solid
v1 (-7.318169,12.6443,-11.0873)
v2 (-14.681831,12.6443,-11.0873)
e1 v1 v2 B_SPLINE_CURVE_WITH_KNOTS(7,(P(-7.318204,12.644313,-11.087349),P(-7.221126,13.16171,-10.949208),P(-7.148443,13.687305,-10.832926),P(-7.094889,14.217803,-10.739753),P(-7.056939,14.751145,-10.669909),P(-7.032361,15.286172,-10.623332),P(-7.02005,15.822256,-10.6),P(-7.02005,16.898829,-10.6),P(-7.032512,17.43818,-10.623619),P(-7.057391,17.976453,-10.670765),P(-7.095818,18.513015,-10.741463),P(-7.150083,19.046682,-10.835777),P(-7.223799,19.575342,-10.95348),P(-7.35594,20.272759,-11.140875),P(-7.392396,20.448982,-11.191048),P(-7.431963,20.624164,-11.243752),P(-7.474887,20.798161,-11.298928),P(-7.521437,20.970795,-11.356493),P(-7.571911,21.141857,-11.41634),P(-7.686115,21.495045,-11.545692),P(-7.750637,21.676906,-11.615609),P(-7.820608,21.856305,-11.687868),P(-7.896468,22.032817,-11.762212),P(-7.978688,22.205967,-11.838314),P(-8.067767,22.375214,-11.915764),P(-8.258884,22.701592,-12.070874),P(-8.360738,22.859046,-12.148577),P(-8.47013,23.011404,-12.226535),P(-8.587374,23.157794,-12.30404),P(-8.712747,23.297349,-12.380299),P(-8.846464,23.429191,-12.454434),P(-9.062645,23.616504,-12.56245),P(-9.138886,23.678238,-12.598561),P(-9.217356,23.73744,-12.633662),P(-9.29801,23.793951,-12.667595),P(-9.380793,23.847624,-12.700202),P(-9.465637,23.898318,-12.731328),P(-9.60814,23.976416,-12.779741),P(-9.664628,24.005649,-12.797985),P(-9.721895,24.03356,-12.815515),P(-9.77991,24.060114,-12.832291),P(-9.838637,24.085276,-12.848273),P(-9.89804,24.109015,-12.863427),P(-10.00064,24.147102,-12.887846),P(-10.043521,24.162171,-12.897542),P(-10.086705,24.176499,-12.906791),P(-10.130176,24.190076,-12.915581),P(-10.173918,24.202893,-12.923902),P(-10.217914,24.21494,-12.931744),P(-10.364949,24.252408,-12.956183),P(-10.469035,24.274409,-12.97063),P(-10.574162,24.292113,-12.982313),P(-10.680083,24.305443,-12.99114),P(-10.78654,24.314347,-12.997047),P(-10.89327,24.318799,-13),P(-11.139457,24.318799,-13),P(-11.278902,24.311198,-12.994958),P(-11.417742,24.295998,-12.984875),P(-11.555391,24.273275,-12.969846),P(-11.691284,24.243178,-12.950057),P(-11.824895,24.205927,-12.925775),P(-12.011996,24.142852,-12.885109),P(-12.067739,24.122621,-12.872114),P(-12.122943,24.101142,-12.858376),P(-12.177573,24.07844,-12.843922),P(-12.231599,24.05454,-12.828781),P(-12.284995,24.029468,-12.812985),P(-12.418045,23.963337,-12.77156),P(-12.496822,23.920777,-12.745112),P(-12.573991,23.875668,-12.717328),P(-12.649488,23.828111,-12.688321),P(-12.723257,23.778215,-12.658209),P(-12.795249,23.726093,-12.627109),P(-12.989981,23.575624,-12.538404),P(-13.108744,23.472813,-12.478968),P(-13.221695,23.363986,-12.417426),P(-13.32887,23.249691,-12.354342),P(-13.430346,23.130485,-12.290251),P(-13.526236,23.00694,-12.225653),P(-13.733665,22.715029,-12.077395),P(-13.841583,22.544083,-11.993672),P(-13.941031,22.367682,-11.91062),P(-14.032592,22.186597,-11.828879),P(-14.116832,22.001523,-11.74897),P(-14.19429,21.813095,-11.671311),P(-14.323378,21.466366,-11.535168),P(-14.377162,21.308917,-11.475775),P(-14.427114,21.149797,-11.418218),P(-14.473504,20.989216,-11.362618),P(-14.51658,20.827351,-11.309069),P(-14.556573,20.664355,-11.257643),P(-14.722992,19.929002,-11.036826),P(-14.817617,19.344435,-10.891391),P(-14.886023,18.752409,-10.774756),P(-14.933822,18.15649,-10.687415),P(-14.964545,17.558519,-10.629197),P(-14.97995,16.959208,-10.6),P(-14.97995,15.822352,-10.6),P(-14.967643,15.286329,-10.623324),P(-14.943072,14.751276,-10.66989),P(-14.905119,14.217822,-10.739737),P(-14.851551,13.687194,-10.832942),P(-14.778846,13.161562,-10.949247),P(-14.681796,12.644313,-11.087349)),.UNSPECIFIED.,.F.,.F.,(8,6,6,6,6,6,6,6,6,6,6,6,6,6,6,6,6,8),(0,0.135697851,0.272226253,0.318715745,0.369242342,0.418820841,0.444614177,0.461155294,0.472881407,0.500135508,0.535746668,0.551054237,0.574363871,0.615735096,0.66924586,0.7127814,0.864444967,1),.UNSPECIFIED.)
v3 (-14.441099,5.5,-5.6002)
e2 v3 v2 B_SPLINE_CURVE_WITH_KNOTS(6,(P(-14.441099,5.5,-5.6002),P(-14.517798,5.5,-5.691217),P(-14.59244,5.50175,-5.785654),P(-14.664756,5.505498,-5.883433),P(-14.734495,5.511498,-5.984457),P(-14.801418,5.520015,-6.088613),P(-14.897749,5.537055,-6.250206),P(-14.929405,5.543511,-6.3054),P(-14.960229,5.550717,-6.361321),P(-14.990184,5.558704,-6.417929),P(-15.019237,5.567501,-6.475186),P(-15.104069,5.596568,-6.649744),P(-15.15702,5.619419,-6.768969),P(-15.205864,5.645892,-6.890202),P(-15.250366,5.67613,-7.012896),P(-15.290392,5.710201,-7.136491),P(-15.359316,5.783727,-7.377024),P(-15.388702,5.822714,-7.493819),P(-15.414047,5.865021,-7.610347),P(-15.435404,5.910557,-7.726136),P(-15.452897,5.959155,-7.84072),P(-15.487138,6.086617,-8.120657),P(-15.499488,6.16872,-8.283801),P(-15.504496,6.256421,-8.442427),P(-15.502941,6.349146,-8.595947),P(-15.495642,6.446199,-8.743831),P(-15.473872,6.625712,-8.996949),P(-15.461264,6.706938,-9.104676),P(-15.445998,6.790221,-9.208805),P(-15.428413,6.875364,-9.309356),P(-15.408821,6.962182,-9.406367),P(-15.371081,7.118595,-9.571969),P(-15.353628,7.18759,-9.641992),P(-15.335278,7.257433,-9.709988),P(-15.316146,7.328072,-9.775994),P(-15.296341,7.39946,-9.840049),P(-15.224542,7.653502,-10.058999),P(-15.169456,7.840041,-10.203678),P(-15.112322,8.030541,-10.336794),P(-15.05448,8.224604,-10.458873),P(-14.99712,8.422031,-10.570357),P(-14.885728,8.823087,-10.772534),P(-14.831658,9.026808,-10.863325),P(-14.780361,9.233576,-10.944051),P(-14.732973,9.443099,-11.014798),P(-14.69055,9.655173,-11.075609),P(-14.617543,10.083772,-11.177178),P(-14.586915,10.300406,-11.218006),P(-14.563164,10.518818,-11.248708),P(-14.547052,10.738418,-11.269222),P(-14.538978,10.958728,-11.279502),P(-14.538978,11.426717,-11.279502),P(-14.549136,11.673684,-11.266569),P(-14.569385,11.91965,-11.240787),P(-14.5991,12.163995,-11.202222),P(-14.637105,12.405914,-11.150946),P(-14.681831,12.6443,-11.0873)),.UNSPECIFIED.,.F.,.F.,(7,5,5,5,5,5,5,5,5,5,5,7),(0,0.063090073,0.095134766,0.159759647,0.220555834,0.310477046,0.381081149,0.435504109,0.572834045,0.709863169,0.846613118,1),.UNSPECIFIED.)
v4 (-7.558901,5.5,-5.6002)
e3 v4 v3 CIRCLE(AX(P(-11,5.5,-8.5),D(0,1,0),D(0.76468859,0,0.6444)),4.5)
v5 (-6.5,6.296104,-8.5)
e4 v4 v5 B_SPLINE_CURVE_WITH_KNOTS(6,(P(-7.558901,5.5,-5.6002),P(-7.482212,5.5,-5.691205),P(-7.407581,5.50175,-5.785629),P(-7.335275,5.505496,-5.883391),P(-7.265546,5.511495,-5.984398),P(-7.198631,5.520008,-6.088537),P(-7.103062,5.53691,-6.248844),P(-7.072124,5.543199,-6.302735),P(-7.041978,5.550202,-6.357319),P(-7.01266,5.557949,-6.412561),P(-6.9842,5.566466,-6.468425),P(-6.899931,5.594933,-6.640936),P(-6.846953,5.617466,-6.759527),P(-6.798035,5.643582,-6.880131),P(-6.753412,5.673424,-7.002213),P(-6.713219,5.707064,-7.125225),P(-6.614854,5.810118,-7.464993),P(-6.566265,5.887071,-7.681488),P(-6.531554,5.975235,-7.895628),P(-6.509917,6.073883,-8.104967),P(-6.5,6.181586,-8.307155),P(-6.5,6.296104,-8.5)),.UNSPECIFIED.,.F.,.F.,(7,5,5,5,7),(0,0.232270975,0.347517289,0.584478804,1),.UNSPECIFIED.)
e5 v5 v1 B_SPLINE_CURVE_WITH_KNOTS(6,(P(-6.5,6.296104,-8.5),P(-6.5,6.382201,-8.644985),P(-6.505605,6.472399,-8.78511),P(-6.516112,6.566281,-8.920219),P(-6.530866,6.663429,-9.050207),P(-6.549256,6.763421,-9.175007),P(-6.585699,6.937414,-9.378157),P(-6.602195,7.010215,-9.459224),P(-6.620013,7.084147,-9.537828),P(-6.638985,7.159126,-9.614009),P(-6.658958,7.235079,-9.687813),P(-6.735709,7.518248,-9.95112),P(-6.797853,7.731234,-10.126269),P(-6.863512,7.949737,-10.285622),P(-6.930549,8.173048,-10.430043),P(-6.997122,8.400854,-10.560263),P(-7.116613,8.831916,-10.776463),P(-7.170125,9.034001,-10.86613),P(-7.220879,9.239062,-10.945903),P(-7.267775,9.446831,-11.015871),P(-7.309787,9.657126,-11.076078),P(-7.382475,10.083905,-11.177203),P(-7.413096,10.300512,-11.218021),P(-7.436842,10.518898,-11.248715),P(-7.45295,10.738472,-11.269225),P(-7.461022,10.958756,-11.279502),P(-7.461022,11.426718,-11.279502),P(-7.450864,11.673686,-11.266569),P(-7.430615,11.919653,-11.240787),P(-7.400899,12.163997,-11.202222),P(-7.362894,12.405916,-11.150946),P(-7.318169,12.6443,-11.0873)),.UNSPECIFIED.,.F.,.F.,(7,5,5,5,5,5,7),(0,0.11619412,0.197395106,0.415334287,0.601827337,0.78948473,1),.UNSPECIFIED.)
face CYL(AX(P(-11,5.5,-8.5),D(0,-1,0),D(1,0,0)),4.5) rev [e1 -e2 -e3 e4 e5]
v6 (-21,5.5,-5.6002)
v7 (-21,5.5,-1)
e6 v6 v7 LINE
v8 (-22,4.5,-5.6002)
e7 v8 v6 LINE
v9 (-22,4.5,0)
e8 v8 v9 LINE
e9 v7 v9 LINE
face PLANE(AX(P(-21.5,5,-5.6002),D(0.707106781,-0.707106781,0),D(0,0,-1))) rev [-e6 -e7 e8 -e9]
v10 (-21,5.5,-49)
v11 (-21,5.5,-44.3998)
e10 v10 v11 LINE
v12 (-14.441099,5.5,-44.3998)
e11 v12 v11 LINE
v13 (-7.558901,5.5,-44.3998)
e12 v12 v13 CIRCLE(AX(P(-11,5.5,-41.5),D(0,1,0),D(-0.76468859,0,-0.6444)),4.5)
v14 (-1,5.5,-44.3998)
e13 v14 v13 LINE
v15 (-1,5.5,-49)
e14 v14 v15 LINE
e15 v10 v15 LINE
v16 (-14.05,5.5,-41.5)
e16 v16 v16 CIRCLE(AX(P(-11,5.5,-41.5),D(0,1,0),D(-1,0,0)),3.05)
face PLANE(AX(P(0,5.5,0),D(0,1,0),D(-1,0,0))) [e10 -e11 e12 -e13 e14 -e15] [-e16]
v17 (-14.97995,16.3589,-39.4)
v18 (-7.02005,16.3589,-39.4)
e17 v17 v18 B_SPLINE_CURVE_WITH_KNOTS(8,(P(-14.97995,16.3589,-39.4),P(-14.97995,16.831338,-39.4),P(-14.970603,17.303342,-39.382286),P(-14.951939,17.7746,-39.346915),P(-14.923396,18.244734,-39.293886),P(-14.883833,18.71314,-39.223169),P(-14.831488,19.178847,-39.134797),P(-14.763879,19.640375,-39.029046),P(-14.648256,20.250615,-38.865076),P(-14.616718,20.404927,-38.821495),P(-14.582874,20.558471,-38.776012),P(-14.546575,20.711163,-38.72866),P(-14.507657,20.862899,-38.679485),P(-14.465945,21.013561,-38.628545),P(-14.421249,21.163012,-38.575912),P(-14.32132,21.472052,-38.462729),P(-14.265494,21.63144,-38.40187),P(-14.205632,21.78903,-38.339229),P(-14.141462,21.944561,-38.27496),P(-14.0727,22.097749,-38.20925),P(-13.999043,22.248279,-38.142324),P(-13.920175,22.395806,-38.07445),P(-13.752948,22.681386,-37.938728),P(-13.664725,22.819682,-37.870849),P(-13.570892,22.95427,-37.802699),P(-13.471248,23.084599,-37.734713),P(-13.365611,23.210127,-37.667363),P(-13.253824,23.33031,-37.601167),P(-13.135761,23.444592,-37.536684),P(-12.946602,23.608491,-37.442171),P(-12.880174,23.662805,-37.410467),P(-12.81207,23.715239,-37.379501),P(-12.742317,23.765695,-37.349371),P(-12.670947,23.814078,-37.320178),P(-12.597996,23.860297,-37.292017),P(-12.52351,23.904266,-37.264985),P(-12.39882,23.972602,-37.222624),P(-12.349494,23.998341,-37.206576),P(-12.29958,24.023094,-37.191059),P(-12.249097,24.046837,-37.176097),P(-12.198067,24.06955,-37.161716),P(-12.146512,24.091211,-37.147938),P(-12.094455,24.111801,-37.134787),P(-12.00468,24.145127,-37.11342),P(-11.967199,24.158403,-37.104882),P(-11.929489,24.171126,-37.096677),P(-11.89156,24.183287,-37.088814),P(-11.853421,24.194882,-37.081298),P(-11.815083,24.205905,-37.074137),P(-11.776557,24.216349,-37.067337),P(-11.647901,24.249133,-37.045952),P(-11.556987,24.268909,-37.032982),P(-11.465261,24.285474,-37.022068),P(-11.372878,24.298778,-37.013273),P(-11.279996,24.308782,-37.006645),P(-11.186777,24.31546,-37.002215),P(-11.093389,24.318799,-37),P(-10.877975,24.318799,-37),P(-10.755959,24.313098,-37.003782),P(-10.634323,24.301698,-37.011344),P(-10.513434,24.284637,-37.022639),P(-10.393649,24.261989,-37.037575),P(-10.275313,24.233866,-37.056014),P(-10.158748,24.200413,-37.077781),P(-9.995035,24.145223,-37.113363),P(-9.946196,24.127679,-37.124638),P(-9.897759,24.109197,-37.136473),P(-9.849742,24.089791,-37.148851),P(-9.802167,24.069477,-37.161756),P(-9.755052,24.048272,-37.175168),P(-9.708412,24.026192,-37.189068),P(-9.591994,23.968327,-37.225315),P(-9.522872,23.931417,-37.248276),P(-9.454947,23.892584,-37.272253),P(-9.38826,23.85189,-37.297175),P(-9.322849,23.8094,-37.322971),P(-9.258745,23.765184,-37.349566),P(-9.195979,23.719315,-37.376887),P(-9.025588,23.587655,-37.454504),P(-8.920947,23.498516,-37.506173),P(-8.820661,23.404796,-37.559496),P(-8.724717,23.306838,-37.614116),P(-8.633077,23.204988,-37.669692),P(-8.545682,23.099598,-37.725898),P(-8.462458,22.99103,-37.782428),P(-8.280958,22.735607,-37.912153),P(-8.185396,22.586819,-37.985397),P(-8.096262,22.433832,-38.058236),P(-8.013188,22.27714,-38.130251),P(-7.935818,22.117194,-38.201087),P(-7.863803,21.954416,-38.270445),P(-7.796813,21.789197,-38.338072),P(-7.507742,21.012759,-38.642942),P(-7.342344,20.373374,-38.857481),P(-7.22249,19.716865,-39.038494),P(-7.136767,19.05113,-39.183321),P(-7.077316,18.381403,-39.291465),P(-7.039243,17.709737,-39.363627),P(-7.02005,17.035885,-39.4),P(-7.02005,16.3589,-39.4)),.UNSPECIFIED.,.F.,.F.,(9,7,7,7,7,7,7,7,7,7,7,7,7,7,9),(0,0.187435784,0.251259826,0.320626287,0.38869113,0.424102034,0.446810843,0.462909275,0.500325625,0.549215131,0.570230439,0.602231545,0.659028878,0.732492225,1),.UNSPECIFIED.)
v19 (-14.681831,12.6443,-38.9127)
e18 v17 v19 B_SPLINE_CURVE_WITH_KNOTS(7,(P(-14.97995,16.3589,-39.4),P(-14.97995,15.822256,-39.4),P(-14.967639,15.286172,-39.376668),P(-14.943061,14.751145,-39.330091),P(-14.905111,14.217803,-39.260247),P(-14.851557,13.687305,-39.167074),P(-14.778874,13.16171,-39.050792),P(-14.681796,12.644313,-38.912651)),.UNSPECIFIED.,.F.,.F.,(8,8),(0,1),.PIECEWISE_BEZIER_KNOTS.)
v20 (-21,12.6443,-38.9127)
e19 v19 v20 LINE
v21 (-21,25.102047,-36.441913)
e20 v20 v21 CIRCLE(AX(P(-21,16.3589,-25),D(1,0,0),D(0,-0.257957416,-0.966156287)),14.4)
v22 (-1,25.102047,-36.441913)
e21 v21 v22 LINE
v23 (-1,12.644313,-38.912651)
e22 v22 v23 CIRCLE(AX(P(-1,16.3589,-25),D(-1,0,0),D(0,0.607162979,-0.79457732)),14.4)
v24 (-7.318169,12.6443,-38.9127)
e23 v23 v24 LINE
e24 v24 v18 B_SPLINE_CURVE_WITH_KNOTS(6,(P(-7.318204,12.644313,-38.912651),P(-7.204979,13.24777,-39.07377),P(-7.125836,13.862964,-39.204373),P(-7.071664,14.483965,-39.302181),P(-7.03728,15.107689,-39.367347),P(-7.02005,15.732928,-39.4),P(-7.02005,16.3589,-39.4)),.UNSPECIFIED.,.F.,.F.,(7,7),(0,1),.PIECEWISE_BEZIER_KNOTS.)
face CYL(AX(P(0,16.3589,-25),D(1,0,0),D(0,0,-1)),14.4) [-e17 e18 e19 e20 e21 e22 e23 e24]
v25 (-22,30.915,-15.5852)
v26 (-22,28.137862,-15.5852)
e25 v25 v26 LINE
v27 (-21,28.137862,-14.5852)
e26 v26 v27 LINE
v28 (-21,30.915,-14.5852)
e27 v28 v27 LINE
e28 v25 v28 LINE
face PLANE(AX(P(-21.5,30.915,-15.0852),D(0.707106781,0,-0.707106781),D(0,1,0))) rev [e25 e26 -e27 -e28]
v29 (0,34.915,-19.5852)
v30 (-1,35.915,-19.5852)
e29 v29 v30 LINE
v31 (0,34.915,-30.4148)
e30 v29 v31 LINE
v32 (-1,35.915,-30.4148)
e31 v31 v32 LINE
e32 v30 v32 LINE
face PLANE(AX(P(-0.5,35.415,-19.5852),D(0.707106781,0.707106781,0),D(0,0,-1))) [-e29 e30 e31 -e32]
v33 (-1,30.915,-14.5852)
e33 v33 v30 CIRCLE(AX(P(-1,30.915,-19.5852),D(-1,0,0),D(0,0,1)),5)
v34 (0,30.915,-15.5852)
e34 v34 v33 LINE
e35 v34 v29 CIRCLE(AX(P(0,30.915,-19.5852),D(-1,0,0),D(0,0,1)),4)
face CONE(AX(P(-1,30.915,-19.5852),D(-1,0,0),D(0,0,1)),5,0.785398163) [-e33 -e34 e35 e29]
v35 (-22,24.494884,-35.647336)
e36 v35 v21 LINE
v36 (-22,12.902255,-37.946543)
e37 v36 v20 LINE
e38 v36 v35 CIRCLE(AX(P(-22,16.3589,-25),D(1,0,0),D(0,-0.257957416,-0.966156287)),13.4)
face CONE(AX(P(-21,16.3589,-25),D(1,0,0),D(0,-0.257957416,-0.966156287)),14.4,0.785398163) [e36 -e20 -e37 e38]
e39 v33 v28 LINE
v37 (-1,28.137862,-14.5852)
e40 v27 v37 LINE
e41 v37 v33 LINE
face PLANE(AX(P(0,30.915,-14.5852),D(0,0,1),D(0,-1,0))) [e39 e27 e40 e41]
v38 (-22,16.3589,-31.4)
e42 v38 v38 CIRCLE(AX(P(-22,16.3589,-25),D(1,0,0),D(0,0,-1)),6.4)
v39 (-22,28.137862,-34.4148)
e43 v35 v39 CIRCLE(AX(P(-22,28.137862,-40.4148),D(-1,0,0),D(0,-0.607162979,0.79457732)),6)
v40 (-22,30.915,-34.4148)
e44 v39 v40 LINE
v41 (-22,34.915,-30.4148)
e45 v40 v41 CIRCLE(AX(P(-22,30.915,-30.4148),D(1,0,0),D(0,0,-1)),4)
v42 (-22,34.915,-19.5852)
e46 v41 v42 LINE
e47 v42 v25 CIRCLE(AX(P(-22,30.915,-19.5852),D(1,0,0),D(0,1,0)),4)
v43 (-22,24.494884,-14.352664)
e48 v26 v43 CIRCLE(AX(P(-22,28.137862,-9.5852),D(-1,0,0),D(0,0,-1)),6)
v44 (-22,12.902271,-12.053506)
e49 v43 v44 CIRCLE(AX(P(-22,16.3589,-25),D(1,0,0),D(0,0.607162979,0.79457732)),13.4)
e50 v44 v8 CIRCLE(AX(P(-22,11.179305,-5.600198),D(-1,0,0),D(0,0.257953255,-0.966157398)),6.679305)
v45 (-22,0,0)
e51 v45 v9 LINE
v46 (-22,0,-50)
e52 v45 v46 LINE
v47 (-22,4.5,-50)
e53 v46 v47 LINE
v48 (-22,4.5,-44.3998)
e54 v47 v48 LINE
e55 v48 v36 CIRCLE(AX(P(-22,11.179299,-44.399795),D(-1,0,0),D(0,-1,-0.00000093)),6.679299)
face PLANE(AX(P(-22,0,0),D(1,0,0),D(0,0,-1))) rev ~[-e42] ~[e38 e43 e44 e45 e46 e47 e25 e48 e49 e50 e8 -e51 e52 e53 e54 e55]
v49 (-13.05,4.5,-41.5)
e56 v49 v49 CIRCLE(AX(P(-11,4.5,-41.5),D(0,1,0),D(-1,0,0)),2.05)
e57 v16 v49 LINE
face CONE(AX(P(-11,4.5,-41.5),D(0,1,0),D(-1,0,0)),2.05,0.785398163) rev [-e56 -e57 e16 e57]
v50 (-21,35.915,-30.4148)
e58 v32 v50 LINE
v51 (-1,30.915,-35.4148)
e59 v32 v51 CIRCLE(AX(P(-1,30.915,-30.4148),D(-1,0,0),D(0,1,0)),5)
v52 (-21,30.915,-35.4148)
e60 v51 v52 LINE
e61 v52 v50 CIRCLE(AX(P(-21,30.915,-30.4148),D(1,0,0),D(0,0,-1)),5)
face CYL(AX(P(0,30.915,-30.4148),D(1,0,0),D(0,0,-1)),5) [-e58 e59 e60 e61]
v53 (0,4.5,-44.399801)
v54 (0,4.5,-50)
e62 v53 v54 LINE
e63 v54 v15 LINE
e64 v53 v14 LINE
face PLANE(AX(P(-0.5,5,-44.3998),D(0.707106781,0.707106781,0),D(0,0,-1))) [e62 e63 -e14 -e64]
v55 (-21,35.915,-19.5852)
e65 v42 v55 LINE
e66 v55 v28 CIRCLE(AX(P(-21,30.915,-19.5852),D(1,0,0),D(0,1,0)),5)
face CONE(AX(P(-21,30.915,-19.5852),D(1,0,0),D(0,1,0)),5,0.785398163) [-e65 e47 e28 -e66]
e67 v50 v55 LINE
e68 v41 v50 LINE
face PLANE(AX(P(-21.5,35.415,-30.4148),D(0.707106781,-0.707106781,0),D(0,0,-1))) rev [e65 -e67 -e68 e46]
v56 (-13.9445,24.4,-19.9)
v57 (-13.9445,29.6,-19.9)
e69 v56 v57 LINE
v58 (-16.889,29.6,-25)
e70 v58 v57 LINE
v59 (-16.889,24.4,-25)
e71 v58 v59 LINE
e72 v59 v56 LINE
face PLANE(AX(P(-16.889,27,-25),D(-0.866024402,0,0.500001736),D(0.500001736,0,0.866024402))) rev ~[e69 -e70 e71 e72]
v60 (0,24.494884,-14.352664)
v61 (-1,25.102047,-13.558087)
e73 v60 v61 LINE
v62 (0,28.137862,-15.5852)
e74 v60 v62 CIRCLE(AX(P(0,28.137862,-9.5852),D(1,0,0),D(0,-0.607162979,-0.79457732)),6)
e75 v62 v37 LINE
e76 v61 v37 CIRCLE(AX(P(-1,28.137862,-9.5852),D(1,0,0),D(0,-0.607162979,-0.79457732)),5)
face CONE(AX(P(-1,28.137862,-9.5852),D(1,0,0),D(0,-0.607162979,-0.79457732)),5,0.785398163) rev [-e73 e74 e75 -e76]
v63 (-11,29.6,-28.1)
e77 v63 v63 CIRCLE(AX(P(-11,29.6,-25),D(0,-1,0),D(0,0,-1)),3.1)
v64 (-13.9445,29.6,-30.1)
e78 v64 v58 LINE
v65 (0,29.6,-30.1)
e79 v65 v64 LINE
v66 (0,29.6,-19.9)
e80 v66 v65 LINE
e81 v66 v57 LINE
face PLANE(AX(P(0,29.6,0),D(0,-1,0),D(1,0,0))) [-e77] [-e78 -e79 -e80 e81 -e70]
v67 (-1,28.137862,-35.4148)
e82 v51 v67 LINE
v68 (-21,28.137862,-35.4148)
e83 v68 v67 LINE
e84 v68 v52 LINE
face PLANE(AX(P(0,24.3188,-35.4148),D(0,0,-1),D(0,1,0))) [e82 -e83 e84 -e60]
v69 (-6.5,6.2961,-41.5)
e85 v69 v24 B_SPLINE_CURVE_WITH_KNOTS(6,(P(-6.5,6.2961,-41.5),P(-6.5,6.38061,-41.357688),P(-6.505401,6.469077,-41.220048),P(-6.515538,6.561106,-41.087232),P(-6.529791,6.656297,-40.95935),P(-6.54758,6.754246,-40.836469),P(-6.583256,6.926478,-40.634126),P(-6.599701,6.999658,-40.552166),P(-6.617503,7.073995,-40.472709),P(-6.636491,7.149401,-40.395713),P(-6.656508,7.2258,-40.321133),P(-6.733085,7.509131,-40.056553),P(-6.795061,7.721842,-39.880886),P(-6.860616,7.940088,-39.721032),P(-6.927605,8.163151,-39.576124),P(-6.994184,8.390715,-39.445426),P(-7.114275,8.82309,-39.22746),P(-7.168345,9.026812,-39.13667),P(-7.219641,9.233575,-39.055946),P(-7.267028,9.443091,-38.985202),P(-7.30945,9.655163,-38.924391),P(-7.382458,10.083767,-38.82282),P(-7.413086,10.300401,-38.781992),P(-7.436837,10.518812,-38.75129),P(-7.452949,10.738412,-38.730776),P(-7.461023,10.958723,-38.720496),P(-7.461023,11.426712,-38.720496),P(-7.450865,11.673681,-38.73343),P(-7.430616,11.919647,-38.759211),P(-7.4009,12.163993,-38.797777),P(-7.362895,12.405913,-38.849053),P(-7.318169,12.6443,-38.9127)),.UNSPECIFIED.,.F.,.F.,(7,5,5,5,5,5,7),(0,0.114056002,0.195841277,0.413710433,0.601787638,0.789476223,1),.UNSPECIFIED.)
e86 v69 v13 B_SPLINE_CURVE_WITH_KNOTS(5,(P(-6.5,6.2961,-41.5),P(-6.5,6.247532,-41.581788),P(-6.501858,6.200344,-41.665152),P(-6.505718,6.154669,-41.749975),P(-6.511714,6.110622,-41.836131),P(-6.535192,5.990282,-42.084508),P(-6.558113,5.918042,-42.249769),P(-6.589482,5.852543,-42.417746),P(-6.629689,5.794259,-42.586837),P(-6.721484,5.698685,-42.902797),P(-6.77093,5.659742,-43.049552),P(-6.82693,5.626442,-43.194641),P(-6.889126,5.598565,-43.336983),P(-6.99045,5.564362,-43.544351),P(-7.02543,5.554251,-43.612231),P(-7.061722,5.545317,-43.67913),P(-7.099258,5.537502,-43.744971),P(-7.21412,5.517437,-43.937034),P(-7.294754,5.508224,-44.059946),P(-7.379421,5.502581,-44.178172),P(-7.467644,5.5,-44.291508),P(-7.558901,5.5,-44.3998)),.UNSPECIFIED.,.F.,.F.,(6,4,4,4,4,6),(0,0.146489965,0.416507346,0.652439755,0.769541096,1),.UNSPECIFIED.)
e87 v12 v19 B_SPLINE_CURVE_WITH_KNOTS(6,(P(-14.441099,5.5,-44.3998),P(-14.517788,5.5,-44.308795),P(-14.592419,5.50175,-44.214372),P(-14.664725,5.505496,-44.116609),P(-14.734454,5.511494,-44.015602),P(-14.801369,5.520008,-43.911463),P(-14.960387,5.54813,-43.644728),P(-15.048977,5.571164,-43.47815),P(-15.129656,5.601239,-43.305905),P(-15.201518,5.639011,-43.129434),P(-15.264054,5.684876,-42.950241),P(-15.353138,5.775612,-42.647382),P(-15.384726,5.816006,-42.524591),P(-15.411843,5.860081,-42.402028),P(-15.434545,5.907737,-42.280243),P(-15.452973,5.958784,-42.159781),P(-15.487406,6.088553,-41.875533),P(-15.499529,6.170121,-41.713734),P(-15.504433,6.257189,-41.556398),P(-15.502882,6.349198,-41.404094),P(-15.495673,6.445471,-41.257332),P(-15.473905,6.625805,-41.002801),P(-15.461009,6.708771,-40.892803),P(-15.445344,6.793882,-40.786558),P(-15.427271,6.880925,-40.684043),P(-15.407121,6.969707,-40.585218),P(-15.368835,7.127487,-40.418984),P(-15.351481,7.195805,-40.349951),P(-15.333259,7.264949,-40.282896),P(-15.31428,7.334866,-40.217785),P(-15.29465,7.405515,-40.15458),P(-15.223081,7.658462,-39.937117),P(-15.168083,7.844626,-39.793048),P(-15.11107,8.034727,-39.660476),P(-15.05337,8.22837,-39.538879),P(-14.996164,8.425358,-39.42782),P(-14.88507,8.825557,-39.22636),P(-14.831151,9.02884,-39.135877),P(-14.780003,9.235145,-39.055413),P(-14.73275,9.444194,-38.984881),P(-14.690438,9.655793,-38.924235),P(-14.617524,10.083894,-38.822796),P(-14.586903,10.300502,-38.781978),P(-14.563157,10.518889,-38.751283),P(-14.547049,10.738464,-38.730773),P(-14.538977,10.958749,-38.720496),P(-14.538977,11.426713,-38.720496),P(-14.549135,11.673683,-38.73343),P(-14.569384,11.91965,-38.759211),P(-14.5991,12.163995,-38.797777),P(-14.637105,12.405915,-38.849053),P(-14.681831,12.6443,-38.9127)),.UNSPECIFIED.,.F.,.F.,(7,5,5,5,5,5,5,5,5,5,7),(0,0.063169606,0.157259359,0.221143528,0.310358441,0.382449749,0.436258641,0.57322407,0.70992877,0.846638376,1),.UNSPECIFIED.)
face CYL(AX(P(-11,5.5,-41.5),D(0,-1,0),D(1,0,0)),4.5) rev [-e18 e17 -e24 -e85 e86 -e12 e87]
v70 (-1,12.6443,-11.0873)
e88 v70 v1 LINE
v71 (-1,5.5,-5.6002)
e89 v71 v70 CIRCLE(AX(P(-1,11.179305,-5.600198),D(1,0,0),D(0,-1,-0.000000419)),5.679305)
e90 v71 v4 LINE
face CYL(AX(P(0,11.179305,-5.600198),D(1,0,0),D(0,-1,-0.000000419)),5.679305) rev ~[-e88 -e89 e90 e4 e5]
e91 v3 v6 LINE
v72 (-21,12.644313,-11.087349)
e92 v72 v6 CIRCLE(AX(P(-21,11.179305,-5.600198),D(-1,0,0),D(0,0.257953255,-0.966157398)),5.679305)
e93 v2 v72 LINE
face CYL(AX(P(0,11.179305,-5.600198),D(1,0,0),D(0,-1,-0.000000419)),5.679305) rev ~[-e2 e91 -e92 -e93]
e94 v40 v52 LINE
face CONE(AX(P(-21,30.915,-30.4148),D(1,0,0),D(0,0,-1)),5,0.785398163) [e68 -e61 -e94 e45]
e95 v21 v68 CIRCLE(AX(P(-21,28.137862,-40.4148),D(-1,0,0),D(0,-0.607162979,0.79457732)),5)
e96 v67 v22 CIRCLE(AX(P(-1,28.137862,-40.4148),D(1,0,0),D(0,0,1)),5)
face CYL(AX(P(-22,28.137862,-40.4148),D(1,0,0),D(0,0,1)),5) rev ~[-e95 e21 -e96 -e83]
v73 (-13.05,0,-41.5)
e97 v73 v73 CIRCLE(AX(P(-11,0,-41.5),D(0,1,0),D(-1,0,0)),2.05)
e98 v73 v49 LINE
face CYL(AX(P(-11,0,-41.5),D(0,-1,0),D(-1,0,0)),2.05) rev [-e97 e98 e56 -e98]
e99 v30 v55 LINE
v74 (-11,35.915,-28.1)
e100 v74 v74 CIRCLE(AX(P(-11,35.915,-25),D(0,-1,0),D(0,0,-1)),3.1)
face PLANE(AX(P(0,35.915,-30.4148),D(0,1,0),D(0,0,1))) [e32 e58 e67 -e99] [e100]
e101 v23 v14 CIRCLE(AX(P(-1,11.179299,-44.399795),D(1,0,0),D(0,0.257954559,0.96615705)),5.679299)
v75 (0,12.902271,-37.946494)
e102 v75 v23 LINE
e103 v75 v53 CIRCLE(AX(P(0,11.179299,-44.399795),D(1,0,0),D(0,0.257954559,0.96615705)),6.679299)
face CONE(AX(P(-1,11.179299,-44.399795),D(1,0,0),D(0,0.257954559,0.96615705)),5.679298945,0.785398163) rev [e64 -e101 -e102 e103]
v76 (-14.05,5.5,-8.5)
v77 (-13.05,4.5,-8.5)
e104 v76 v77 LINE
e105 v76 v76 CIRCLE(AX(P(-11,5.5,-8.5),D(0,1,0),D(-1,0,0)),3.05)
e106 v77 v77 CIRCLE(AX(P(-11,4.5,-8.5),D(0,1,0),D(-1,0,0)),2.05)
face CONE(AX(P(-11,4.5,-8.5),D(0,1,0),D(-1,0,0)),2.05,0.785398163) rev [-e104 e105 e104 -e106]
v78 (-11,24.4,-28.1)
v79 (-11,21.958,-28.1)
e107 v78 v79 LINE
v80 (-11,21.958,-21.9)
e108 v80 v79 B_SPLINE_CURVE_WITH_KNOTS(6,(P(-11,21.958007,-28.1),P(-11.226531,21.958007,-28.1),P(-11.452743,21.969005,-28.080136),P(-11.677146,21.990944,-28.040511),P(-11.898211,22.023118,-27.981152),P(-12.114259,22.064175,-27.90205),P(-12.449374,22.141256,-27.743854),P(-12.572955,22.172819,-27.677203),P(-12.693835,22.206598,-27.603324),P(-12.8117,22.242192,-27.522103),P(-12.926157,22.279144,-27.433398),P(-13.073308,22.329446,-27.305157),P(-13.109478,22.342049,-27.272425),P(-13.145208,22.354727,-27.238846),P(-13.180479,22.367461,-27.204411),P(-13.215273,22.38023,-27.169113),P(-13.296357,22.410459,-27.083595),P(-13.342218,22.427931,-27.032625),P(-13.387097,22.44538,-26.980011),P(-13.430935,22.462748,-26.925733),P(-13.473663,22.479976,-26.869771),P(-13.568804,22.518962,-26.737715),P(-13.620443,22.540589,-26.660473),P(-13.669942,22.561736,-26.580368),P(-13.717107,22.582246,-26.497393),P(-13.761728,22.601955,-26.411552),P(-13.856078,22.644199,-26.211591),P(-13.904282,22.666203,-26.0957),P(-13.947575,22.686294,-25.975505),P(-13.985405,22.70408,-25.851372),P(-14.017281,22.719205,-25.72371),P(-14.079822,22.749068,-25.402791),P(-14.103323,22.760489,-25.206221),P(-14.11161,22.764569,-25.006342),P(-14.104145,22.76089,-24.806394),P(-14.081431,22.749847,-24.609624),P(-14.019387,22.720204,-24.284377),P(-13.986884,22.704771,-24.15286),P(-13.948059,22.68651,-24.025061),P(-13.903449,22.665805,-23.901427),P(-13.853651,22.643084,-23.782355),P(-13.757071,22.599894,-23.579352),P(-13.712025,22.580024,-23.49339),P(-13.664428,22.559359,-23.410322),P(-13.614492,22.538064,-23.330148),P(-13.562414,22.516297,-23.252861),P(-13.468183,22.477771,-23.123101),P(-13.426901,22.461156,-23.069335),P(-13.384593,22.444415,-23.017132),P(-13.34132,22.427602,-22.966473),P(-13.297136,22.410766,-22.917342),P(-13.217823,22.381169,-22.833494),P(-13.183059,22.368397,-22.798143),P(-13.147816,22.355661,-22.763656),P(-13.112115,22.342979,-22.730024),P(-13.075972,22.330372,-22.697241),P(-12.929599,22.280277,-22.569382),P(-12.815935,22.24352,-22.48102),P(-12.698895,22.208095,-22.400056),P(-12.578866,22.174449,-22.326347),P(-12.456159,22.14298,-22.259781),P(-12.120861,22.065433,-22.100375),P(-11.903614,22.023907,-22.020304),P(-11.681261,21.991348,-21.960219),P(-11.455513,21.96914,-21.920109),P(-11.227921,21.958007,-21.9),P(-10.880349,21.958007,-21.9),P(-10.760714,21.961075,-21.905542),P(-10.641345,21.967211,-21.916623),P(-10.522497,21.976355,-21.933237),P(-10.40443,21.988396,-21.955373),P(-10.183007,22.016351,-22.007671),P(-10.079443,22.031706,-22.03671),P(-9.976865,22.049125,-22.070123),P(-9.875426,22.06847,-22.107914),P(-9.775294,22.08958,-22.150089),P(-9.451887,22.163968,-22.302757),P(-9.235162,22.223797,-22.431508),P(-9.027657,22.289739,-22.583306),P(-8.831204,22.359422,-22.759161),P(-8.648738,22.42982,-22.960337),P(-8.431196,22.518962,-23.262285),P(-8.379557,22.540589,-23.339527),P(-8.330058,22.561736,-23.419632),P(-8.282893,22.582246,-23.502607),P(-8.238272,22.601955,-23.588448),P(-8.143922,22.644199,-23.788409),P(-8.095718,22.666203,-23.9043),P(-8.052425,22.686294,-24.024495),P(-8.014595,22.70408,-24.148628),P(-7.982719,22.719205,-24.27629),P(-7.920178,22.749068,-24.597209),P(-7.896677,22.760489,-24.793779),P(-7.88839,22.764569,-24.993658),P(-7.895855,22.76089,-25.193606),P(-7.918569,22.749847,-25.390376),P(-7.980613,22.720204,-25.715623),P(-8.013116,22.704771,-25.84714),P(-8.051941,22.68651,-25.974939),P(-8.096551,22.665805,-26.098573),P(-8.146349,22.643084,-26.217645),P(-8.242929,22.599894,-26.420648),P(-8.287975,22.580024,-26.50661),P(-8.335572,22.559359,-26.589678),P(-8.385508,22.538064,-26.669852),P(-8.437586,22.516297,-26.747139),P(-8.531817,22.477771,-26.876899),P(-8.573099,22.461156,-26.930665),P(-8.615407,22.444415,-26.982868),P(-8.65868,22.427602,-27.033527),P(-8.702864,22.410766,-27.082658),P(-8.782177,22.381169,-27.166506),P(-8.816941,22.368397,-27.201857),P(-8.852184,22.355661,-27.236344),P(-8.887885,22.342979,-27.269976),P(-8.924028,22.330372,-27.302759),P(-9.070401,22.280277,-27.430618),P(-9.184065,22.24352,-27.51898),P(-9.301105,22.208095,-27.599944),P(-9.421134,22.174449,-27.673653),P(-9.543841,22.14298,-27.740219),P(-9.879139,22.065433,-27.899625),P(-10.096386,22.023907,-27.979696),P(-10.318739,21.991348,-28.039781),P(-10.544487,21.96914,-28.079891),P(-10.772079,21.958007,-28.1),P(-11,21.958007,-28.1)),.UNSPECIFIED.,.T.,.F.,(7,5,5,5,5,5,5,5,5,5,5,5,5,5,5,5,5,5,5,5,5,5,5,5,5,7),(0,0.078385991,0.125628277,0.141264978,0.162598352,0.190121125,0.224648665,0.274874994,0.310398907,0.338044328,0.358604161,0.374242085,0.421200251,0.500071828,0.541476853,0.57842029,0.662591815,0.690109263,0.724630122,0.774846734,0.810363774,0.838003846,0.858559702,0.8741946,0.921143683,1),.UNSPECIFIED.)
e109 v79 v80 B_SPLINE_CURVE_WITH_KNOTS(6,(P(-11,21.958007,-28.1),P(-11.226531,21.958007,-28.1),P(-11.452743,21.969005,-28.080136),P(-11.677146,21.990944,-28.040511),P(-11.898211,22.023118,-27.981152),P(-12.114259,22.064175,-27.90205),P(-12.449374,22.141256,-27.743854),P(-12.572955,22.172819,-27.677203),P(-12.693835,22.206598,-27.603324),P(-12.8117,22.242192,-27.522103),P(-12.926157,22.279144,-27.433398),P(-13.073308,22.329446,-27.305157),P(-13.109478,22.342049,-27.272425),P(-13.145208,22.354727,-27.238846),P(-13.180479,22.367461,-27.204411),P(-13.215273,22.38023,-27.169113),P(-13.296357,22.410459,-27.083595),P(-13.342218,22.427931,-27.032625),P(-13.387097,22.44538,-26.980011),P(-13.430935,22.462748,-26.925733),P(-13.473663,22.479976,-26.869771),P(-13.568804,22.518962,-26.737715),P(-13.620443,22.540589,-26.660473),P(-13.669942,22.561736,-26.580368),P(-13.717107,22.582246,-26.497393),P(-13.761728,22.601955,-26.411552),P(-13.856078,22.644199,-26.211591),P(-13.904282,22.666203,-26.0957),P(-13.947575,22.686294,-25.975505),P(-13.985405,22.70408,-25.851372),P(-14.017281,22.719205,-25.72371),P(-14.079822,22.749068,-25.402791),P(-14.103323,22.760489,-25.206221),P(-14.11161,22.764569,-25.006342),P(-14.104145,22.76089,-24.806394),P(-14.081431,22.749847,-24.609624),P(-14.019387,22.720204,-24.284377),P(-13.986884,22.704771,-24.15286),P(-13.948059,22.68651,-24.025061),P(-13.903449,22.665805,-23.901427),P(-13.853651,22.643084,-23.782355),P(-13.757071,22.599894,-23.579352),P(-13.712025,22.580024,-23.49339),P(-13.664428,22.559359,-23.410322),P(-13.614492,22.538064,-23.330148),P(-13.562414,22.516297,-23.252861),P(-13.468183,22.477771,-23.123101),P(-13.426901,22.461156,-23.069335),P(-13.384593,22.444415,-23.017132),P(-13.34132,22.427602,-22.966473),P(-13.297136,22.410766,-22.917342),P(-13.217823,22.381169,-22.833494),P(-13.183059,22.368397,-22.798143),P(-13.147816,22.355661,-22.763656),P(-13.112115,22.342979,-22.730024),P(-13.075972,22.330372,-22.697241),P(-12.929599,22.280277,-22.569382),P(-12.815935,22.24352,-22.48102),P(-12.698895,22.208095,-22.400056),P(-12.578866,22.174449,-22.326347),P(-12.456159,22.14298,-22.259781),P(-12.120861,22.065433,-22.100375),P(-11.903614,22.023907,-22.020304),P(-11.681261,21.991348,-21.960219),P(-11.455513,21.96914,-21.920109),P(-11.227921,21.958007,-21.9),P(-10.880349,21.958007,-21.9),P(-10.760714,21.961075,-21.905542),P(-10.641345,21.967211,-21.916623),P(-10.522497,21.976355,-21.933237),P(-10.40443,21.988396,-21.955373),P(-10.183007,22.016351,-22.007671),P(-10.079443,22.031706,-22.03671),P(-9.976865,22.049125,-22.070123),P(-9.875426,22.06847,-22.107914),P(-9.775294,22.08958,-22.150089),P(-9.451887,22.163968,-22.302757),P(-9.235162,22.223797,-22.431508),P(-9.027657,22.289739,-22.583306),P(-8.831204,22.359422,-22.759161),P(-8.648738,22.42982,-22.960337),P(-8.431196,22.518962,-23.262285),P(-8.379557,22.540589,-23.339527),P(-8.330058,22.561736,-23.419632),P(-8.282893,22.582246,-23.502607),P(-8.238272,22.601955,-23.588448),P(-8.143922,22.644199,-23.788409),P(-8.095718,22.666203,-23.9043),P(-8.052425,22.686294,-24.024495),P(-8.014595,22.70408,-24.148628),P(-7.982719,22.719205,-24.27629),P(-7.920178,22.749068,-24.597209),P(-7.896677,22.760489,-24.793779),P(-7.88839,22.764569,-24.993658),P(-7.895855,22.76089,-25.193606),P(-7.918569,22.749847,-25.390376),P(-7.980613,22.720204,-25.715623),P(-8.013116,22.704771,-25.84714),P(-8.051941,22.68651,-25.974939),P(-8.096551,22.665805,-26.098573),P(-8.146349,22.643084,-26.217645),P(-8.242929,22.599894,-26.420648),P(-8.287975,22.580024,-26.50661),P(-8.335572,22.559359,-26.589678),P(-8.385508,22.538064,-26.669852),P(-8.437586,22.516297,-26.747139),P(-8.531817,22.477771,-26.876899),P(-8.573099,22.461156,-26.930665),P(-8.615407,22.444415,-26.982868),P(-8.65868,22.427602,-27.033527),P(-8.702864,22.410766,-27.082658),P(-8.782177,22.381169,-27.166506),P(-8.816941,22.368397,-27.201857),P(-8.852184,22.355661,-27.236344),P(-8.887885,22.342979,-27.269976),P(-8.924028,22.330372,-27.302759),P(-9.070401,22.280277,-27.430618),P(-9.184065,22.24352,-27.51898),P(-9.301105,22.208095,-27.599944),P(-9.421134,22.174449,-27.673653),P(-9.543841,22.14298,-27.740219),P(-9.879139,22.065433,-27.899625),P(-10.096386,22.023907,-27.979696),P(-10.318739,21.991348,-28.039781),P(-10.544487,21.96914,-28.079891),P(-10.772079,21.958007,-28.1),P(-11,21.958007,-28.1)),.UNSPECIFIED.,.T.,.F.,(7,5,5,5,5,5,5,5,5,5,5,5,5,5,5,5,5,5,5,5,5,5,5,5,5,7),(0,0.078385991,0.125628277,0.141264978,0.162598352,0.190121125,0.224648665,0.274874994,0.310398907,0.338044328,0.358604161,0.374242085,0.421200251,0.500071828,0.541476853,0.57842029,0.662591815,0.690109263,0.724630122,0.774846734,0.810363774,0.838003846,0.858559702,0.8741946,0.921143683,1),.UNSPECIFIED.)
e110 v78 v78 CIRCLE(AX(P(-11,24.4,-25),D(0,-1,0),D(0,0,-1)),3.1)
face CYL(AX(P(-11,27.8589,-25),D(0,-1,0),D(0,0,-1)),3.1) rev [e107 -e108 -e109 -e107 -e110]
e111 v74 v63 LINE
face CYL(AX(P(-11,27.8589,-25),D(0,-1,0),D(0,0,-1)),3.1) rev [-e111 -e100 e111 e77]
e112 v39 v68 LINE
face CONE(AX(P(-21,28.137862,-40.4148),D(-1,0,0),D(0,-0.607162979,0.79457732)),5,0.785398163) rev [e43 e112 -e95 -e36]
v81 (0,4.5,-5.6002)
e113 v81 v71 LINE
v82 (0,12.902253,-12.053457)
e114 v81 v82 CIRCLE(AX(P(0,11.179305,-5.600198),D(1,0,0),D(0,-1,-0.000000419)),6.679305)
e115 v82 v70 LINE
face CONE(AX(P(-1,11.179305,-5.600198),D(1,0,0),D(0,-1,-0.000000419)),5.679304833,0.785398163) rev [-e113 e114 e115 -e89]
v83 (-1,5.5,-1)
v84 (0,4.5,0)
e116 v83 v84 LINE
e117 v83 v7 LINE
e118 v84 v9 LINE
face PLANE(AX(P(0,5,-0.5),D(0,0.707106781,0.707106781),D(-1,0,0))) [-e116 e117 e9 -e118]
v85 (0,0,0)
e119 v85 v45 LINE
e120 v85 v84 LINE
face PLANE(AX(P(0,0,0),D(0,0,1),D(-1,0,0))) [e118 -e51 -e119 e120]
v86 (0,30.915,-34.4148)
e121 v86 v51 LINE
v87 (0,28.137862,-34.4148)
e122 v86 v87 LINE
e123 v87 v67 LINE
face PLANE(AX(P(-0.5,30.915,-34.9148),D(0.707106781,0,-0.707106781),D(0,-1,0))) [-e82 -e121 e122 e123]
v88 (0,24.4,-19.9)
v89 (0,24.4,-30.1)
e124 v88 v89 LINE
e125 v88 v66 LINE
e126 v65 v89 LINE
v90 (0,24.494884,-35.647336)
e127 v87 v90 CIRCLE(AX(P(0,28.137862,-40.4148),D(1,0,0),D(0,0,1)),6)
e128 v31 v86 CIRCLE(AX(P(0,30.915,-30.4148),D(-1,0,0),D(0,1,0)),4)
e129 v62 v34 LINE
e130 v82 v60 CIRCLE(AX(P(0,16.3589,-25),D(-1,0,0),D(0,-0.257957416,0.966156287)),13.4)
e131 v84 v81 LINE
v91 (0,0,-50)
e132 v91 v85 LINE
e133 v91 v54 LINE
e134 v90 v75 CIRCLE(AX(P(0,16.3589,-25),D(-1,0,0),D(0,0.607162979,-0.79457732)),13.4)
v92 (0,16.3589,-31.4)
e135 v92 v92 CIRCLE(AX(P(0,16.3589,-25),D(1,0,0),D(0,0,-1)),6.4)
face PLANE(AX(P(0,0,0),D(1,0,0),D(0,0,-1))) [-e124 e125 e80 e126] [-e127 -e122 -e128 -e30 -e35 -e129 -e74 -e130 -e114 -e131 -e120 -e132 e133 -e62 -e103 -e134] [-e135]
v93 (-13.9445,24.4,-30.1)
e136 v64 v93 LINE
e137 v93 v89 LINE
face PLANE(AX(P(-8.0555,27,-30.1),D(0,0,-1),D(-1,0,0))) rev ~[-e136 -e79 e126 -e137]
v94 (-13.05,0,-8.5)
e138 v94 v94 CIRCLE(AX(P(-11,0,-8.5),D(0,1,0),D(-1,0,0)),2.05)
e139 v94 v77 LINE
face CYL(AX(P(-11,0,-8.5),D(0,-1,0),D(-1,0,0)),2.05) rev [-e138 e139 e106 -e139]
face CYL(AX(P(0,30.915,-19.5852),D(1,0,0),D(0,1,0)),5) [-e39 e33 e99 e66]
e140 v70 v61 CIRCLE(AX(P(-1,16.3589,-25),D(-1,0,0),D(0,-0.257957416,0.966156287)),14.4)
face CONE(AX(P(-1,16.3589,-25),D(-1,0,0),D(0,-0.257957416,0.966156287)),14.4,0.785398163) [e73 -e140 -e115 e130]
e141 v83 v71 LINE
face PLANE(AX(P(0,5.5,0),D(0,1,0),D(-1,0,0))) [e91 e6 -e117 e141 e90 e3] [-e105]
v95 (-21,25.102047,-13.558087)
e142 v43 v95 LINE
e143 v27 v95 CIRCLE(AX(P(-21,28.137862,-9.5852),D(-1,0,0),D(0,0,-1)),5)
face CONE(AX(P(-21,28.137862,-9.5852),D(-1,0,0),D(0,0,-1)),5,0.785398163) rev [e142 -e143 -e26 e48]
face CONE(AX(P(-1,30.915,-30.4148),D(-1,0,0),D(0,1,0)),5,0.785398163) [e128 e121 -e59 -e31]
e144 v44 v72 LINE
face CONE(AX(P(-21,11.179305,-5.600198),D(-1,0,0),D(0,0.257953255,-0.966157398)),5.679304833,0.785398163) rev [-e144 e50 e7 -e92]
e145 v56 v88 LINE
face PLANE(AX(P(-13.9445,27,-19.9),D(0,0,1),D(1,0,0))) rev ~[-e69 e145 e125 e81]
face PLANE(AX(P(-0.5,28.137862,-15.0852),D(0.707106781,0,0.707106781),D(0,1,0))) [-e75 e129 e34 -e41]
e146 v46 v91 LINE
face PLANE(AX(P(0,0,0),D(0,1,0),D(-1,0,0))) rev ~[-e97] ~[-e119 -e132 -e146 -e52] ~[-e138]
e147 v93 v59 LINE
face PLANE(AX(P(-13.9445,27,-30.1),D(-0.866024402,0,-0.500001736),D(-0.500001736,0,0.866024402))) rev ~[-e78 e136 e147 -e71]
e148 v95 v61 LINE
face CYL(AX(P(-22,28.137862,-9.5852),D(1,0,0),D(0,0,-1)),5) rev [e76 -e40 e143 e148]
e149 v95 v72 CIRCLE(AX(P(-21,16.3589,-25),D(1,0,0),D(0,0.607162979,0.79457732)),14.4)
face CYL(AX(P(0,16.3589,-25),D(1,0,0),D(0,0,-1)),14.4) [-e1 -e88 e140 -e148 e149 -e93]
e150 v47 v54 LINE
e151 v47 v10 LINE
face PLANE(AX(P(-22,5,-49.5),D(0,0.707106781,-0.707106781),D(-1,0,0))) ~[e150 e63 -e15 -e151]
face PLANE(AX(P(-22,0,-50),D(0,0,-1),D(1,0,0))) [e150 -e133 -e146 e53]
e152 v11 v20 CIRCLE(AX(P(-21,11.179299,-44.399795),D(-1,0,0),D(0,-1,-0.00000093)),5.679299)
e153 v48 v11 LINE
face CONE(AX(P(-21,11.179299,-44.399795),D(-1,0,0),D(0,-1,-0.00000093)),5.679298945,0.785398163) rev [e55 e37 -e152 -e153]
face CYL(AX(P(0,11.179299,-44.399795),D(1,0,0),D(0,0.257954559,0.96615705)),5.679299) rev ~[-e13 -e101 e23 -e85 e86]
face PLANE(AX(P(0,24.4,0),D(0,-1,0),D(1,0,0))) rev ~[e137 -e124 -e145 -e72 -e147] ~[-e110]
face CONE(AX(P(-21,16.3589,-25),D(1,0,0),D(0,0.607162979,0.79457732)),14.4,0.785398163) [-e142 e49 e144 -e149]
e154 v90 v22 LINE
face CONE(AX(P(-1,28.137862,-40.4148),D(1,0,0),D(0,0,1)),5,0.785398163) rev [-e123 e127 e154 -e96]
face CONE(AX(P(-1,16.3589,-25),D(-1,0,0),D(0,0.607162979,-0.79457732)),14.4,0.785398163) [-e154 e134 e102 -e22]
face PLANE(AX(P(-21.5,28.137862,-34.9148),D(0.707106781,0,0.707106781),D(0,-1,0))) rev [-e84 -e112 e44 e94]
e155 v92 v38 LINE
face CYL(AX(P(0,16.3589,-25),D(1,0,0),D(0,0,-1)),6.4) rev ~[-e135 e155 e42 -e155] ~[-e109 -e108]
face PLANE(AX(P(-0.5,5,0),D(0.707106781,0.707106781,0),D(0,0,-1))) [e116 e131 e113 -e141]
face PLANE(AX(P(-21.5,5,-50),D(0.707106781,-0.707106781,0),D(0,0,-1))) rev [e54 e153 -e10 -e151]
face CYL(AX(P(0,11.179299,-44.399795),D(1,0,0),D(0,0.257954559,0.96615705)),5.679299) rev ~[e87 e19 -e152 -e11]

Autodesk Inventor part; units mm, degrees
ref_plane "YZ Plane" through (0, 0, 0) normal (1, 0, 0) x (0, 1, 0)
sketch "Sketch1" plane through (0, 0, 0) normal (0, 1, 0) x (-1, 0, 0)
  line L0 (0, 0) -> (22, 0)
  line L1 (22, 0) -> (22, -50)
  line L2 (22, -50) -> (0, -50)
  line L3 (0, -50) -> (0, 0)
  circle A0 centre (11, -8.5) radius 2.05
  circle A1 centre (11, -41.5) radius 2.05
  line L4 (22, 0) -> (0, -50) construction
  line L5 (22, -50) -> (0, 0) construction
  point P0 (11, -25)
  dimension "d0" = 22
  dimension "d1" = 50
  dimension "d2" = 4.1
  dimension "d3" = 4.1
  dimension "d5" = 33
  dimension "d40" = 16.5
extrude "Extrusion1" add sketch "Sketch1" along normal blind 5.5
sketch "Sketch3" plane through (0, 0, 0) normal (1, 0, 0) x (0, 0, -1)
  circle A0 centre (25, 16.3589) radius 6.4
  circle A1 centre (25, 16.3589) radius 14.4
  line L0 (50, 5.5) -> (0, 5.5) projected
  arc A2 (5.6002, 5.5) -> (11.0873, 12.6443) centre (5.6002, 11.1793) ccw
  arc A3 (38.9127, 12.6443) -> (44.3998, 5.5) centre (44.3998, 11.1793) ccw
  line L1 (0, 5.5) -> (50, 5.5) projected
  point P0 (0, 0)
  point P1 (25, 5.5)
  dimension "d11" = 12.8
  dimension "d12" = 8
extrude "Extrusion2" add sketch "Sketch3" against normal up to surface (22 mm away) contours A1 L0 | A1 L0 A2 | A3 L0 A1 picked at (24.7429, 7.0019)
sketch "Sketch4" plane through (0, 5.5, 0) normal (0, 1, 0) x (1, 0, 0)
  circle A0 centre (-11, 8.5) radius 2.05 construction
  circle A1 centre (-11, 8.5) radius 4.5
  circle A2 centre (-11, 41.5) radius 2.05 construction
  circle A3 centre (-11, 41.5) radius 4.5
  point P0 (0, 0)
  dimension "d15" = 9
  dimension "d16" = 9
extrude "Extrusion3" cut sketch "Sketch4" along normal through all
ref_plane "Work Plane2" through (-11, 0, 0) normal (1, 0, 0) x (0, 0, -1)
sketch "Sketch11" plane through (0, 0, 0) normal (1, 0, 0) x (0, 0, -1)
  line L0 (14.5852, 24.3188) -> (35.4148, 24.3188)
  line L1 (35.4148, 24.3188) -> (35.4148, 30.915)
  line L2 (30.4148, 35.915) -> (19.5852, 35.915)
  line L3 (14.5852, 30.915) -> (14.5852, 24.3188)
  line L4 (0, 0) -> (50, 0) projected
  arc A0 (19.5852, 35.915) -> (14.5852, 30.915) centre (19.5852, 30.915) ccw
  arc A1 (35.4148, 30.915) -> (30.4148, 35.915) centre (30.4148, 30.915) ccw
  point P0 (35.4148, 35.915)
  point P1 (14.5852, 35.915)
  point P2 (25, 24.3188)
  point P3 (25, 0)
  dimension "d49" = 5
extrude "Extrusion7" add sketch "Sketch11" against normal up to surface (22 mm away)
sketch "Sketch7" plane through (-11, 0, 0) normal (1, 0, 0) x (0, 0, -1)
  arc A0 (38.9127, 12.6443) -> (11.0873, 12.6443) centre (25, 16.3589) ccw construction
  line L0 (25, 16.3589) -> (25, 53.8517)
  line L1 (25, 40.4327) -> (28.1, 40.4327)
  line L2 (28.1, 40.4327) -> (28.1, 27.8589)
  line L3 (28.1, 27.8589) -> (28.1, 21.958)
  line L4 (28.1, 21.958) -> (25, 21.958)
  circle A1 centre (25, 16.3589) radius 6.4 projected
  point P0 (0, 0)
  point P1 (25, 22.7589)
  point P2 (28.1, 30.4212)
  point P3 (25, 30.7589)
  dimension "d28" = 6.2
revolve "Revolution1" cut sketch "Sketch7" angle 360 about axis through (-11, 16.3589, -25) along (0, 1, 0) picked at (26.7389, 22.1049) contours L0 A1 L4 | L0 L1 L2 L3 A1
ref_plane "Work Plane3" through (0, 27, 0) normal (0, -1, 0) x (1, 0, 0)
sketch "Sketch10" plane through (0, 27, 0) normal (0, -1, 0) x (1, 0, 0)
  line L0 (-16.889, -25) -> (-13.9445, -19.9)
  line L1 (-13.9445, -19.9) -> (-8.0555, -19.9)
  line L2 (-8.0555, -19.9) -> (-5.111, -25) construction
  line L3 (-5.111, -25) -> (-8.0555, -30.1) construction
  line L4 (-8.0555, -30.1) -> (-13.9445, -30.1)
  line L5 (-13.9445, -30.1) -> (-16.889, -25)
  line L6 (-8.0555, -19.9) -> (0, -19.9)
  line L7 (0, -19.9) -> (0, -30.1)
  line L8 (0, -30.1) -> (-8.0555, -30.1)
  circle A0 centre (-11, -25) radius 3.1 projected
  point P0 (0, 0)
  point P1 (-11, -21.9)
  dimension "d44" = 10.2
extrude "Extrusion6" cut sketch "Sketch10" along normal mid plane 5.2 contours L0 L1 L6 L7 L8 L4 L5 | A0
fillet "Fillet1" radius 5 2 edges at (-11, 26.3033, -35.4148) (-11, 26.3033, -14.5852)
chamfer "Chamfer1" distance 1 angle 45 22 edges at (-11, 5.5, 0) (-11, 5.5, -50) (0, 7.72, -10.1044) (0, 5.5, -2.8001) (0, 19.1603, -10.8751) (0, 19.1603, -39.1249) (0, 7.72, -39.8956) (0, 5.5, -47.1999) (-22, 19.1603, -39.1249) (-22, 7.72, -39.8956) (-22, 5.5, -47.1999) (-22, 19.1603, -10.8751) (-22, 7.72, -10.1044) (-22, 5.5, -2.8001) (-8.95, 5.5, -8.5) (-8.95, 5.5, -41.5) (0, 29.5264, -14.5852) (0, 29.5264, -35.4148) (0, 35.915, -25) (-22, 29.5264, -35.4148) (-22, 29.5264, -14.5852) (-22, 35.915, -25)
properties part number "narishige_holder"
